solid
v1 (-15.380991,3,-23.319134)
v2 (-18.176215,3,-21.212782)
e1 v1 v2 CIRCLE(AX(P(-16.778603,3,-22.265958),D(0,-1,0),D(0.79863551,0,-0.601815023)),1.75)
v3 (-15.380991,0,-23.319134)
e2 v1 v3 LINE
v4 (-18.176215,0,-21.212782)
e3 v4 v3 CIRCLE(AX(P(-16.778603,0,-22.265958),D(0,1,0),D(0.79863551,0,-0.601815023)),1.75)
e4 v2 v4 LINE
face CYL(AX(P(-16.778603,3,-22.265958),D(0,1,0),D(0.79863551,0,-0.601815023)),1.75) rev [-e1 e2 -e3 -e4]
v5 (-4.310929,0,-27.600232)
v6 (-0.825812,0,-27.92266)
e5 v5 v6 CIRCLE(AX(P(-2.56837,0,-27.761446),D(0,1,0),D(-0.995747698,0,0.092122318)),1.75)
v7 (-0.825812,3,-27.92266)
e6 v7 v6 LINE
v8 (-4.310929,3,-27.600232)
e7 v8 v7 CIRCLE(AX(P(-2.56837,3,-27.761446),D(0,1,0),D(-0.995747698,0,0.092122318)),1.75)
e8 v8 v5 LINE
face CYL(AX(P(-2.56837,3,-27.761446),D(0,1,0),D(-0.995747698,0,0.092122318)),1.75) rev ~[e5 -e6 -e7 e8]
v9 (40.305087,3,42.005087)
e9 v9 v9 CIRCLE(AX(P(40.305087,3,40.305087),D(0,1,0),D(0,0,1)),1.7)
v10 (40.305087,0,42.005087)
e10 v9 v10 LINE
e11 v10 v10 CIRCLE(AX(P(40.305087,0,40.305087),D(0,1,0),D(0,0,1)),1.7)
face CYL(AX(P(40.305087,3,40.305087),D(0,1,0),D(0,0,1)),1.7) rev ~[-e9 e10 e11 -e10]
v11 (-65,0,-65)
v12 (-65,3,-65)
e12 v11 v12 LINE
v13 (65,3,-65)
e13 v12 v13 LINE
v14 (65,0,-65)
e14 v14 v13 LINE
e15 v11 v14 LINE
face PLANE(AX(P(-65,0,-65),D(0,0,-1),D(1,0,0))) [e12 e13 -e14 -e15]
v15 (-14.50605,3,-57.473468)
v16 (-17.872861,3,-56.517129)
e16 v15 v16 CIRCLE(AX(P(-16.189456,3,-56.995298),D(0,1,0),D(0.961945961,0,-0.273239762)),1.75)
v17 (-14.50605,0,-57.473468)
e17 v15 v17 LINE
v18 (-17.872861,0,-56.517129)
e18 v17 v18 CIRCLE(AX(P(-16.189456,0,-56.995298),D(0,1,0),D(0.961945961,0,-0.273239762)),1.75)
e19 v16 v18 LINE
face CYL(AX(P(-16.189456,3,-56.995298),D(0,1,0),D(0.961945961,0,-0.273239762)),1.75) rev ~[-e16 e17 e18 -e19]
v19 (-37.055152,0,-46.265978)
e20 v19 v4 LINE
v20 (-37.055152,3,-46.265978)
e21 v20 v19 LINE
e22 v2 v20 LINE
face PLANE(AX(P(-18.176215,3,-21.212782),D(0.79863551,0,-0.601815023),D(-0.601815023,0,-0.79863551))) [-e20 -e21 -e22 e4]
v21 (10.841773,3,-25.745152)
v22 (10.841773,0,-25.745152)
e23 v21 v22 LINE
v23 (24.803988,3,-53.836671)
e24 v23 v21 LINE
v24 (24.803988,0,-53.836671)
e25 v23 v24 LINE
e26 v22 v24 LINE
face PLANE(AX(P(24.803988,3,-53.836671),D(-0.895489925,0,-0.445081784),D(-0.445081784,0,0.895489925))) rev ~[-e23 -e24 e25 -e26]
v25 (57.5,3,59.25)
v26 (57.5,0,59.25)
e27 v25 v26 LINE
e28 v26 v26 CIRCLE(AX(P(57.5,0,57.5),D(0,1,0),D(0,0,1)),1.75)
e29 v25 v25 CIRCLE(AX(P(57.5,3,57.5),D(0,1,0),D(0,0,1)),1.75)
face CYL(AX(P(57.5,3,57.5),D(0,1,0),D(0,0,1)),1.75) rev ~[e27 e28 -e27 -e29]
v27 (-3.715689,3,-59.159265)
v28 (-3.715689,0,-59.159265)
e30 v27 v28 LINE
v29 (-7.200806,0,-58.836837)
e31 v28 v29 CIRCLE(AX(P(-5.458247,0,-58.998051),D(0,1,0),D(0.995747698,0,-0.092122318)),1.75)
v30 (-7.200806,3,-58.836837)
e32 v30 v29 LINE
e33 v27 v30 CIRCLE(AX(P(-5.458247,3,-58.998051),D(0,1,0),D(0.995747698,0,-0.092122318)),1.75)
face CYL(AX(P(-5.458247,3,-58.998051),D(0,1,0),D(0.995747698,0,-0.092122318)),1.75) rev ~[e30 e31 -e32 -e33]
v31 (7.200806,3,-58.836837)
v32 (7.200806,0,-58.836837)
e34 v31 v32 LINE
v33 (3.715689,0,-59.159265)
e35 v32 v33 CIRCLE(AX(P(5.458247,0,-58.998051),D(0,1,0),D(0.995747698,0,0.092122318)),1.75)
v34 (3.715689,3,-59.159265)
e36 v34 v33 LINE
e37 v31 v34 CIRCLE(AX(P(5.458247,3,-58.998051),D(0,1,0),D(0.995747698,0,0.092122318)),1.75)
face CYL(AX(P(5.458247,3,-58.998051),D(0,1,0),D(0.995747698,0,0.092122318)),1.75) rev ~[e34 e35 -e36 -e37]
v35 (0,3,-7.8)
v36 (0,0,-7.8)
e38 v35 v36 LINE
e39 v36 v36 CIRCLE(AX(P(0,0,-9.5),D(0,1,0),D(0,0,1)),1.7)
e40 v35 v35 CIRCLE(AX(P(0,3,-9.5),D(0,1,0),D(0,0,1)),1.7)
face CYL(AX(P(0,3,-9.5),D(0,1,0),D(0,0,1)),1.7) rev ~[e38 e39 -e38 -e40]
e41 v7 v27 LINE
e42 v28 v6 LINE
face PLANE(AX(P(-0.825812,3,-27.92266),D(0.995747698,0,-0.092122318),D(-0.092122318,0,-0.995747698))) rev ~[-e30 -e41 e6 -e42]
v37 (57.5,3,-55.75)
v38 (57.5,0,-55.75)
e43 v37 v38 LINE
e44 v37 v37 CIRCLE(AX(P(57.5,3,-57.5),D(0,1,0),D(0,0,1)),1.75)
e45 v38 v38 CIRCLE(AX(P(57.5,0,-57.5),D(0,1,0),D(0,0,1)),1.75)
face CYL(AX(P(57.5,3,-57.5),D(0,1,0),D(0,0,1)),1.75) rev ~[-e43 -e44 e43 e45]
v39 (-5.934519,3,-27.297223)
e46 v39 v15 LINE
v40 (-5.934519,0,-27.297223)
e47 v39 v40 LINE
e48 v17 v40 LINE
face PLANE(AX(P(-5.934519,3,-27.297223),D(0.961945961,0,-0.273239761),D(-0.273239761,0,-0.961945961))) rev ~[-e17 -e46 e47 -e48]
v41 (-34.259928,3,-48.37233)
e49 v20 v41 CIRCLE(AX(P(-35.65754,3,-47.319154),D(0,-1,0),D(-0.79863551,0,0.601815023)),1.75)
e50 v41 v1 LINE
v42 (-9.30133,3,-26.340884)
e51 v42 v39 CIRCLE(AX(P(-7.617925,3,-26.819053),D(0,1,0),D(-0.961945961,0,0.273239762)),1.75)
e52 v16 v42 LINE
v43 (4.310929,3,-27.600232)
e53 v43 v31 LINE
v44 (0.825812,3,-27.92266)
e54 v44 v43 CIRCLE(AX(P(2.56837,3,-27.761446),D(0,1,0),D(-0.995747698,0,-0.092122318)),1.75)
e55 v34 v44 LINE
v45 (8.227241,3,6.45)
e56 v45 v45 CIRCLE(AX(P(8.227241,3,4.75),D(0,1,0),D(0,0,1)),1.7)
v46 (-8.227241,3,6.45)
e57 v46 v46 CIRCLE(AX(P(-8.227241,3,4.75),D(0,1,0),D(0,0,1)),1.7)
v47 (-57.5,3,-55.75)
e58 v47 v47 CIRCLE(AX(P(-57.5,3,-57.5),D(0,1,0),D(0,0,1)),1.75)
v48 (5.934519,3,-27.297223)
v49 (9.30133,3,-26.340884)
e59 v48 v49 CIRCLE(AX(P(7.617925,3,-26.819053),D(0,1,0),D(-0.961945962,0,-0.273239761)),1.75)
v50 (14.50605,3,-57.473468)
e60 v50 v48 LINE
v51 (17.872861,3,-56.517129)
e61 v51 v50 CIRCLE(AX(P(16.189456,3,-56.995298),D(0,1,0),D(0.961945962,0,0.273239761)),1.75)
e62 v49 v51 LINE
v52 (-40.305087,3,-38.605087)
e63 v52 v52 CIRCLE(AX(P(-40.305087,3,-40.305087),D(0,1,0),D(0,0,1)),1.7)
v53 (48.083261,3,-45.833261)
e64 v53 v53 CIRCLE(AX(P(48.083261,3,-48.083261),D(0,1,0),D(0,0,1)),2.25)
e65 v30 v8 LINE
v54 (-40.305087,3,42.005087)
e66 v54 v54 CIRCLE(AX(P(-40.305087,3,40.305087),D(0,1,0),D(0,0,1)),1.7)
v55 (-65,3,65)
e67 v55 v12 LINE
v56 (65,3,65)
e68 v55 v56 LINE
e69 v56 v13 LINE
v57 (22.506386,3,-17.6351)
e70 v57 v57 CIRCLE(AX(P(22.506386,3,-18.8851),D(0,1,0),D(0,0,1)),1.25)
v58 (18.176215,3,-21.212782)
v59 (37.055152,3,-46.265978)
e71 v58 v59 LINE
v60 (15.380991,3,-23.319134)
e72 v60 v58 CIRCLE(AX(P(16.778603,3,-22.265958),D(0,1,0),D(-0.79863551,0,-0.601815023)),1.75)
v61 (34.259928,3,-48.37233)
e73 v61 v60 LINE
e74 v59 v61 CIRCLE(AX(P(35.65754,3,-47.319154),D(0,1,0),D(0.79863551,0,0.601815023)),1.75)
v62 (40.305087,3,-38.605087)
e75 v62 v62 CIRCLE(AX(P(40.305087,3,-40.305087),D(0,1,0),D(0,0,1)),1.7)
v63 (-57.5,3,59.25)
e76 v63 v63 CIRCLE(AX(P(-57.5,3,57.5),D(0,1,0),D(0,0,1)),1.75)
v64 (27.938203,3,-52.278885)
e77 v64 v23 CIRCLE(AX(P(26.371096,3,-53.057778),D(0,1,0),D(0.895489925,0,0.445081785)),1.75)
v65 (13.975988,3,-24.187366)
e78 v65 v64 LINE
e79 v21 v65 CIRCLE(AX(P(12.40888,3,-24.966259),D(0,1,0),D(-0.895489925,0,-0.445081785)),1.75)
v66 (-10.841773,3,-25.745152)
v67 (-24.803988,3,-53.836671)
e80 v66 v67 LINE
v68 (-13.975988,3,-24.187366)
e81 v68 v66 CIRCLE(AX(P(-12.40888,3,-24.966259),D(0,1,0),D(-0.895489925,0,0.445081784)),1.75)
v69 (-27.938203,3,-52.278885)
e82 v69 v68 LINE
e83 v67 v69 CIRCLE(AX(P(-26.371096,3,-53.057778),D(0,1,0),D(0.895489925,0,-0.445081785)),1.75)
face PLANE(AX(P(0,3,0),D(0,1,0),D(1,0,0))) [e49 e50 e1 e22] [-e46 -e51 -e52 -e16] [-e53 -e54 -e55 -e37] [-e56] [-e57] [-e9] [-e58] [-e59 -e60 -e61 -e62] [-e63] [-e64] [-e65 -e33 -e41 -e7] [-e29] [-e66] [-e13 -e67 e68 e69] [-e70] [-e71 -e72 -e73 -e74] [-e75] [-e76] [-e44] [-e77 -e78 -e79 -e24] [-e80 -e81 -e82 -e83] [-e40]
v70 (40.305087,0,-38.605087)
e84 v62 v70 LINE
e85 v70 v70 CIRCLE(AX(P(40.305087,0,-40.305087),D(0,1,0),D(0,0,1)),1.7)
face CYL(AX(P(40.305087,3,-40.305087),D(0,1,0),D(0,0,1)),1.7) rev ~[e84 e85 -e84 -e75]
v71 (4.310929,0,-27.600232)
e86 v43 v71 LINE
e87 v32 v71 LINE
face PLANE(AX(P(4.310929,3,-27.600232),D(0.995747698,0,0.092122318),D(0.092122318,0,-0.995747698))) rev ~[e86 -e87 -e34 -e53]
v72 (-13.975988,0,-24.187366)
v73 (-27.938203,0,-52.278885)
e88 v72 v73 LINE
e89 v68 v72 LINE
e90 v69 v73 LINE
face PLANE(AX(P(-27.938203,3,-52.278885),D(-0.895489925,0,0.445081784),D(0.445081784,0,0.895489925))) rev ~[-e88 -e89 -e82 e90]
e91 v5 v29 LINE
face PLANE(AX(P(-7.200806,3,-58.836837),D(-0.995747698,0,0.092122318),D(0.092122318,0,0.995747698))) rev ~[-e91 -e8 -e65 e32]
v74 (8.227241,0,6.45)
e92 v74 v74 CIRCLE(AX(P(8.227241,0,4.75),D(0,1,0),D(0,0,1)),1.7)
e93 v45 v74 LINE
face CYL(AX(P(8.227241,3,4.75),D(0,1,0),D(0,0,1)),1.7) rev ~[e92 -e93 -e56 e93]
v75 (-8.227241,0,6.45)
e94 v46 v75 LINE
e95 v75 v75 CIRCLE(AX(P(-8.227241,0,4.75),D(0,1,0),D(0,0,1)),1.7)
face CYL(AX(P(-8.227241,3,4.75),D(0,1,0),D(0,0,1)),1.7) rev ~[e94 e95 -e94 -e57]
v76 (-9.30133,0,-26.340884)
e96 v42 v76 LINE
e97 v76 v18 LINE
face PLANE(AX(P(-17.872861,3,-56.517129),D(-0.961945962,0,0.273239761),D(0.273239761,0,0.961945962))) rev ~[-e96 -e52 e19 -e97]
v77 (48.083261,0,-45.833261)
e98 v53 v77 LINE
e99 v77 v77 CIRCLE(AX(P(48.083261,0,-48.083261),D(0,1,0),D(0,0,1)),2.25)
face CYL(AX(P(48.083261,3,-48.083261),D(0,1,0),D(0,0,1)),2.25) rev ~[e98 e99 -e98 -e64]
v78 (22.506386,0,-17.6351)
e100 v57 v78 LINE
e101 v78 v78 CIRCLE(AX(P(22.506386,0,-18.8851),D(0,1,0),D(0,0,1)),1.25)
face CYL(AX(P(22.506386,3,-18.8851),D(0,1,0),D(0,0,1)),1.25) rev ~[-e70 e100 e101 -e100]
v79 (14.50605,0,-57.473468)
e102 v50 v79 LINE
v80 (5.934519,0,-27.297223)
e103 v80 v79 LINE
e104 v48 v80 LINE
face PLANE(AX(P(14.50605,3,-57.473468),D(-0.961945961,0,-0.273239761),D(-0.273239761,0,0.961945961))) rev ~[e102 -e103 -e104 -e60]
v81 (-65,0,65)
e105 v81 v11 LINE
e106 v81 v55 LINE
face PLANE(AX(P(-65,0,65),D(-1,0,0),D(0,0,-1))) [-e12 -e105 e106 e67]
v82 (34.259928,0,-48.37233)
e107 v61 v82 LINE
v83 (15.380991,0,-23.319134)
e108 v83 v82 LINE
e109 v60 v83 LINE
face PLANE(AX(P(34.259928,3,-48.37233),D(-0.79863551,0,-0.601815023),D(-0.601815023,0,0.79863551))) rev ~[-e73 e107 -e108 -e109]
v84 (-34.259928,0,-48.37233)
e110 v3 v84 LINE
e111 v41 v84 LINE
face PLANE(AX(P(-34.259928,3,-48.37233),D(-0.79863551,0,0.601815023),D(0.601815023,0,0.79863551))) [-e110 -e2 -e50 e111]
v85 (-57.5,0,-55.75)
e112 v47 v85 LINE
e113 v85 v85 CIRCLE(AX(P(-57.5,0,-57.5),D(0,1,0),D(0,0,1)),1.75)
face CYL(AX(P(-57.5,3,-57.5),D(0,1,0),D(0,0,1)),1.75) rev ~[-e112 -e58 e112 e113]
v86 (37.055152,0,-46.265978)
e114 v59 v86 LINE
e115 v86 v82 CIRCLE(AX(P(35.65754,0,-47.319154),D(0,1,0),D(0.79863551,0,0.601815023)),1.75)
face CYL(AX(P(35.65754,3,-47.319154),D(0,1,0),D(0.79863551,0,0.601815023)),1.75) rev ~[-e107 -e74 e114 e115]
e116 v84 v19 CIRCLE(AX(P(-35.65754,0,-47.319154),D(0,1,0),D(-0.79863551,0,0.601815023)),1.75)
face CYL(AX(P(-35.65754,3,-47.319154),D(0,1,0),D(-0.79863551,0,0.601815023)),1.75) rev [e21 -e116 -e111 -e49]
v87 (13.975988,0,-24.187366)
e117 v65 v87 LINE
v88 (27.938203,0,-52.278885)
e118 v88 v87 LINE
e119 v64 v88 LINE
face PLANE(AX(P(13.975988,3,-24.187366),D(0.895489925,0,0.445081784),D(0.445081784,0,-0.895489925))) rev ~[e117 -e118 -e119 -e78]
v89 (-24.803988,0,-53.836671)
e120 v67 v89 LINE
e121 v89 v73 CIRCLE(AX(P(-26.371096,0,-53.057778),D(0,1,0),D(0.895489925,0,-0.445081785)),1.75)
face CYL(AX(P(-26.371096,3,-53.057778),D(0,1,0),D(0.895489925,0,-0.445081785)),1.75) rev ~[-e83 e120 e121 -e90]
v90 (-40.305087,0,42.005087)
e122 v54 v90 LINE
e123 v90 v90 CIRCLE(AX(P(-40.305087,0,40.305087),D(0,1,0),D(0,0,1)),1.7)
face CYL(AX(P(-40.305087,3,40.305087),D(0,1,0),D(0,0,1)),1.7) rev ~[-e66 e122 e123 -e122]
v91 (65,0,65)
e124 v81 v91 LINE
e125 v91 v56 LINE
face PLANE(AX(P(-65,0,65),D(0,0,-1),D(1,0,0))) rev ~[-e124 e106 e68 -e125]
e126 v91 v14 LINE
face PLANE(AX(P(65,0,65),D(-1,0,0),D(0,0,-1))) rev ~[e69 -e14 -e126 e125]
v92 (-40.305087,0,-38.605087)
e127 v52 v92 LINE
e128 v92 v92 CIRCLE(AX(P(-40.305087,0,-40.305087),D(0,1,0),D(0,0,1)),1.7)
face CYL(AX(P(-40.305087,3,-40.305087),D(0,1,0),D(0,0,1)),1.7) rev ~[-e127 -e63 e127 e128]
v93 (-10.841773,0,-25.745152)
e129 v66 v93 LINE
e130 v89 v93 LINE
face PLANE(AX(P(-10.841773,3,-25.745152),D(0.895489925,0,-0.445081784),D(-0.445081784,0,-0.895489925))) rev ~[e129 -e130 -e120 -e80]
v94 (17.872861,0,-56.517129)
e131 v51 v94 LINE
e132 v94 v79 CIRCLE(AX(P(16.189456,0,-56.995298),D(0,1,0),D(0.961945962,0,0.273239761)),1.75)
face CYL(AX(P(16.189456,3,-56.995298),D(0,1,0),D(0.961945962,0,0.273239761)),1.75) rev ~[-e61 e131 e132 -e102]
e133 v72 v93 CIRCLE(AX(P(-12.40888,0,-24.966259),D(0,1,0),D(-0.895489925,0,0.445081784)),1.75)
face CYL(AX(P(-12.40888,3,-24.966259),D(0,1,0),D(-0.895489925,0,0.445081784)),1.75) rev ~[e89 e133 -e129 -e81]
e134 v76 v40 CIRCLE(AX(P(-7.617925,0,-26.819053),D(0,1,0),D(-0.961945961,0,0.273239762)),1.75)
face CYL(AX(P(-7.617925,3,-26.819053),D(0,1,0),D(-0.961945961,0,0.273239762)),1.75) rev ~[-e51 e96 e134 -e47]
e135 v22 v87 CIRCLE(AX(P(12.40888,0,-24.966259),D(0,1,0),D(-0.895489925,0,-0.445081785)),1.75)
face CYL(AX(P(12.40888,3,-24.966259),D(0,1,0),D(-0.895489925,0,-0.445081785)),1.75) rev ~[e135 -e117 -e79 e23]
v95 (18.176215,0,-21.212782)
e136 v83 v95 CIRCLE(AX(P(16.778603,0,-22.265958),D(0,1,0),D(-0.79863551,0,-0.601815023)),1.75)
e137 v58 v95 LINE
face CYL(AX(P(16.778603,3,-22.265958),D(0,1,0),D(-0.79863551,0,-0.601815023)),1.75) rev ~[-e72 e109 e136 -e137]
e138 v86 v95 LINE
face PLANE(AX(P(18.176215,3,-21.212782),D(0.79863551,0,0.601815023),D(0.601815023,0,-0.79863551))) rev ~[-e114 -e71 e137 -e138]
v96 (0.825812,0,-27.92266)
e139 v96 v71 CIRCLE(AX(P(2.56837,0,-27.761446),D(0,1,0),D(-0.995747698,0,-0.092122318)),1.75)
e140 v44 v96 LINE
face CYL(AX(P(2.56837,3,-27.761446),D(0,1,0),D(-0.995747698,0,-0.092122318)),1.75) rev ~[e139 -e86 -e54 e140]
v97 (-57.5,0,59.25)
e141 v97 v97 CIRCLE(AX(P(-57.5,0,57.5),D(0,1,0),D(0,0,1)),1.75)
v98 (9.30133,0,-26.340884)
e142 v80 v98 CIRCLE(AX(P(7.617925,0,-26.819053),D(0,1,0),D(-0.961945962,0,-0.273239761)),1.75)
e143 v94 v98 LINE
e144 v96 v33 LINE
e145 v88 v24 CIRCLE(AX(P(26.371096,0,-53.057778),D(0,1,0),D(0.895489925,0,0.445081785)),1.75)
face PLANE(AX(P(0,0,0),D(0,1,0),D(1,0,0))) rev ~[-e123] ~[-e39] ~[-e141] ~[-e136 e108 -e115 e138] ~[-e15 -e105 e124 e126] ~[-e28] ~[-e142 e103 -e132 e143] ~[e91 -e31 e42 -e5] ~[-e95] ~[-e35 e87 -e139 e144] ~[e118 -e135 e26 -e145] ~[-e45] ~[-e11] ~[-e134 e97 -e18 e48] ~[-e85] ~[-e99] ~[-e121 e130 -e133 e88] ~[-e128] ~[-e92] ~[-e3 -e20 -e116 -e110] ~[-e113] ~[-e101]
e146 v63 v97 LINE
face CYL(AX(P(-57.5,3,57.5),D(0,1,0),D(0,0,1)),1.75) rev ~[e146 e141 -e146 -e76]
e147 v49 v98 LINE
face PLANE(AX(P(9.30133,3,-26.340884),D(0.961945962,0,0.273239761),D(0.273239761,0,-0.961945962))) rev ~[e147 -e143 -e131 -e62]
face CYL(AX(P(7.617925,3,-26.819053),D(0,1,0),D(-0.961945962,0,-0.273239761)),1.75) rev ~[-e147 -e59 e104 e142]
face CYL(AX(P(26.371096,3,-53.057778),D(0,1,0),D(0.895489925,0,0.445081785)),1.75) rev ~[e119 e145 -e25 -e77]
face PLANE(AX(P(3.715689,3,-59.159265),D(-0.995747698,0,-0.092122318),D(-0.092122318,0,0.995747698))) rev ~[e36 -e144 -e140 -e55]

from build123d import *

# Parameters (mm, degrees)
SKETCH2_W                 = 130
SKETCH2_H                 = 130
BOSS_EXTRUDE1_DEPTH       = 3
CORNERPIECE_HOLES_REACH   = 93.973
SKETCH4_R                 = 1.75
CUT_EXTRUDE2_REACH        = 93.973
SKETCH6_R                 = 1.7
CUT_EXTRUDE3_REACH        = 93.973
SKETCH8_R                 = 1.7
PRIMARY_WIRE_HOLE_REACH   = 93.973
SKETCH9_R                 = 2.25
SECONDARY_WIRE_HOLE_REACH = 93.973
SKETCH10_R                = 1.25
CUT_EXTRUDE6_REACH        = 93.973


with BuildPart() as part:
    # Sketch2 → Boss-Extrude1 (new body)
    with BuildSketch(Plane(origin=(0, 0, 0), x_dir=(1, 0, 0), z_dir=(0, 1, 0))):
        Rectangle(SKETCH2_W, SKETCH2_H)
    extrude(amount=BOSS_EXTRUDE1_DEPTH)

    # Sketch4 → Cornerpiece holes (cut, up to next)
    with BuildSketch(Plane(origin=(0, 3, 0), x_dir=(1, 0, 0), z_dir=(0, 1, 0)), mode=Mode.PRIVATE) as cornerpiece_holes_sk1:
        with Locations(Location((-57.5, 57.5, 0), (0, 0, 270))):
            Circle(SKETCH4_R)
    cornerpiece_holes_tool1 = extrude(cornerpiece_holes_sk1.sketch, amount=-CORNERPIECE_HOLES_REACH, mode=Mode.PRIVATE) & part.part
    # Sketch4 → Cornerpiece holes (cut, up to next)
    with BuildSketch(Plane(origin=(0, 3, 0), x_dir=(1, 0, 0), z_dir=(0, 1, 0)), mode=Mode.PRIVATE) as cornerpiece_holes_sk2:
        with Locations(Location((57.5, 57.5, 0), (0, 0, 270))):
            Circle(SKETCH4_R)
    cornerpiece_holes_tool2 = extrude(cornerpiece_holes_sk2.sketch, amount=-CORNERPIECE_HOLES_REACH, mode=Mode.PRIVATE) & part.part
    # Sketch4 → Cornerpiece holes (cut, up to next)
    with BuildSketch(Plane(origin=(0, 3, 0), x_dir=(1, 0, 0), z_dir=(0, 1, 0)), mode=Mode.PRIVATE) as cornerpiece_holes_sk3:
        with Locations(Location((57.5, -57.5, 0), (0, 0, 270))):
            Circle(SKETCH4_R)
    cornerpiece_holes_tool3 = extrude(cornerpiece_holes_sk3.sketch, amount=-CORNERPIECE_HOLES_REACH, mode=Mode.PRIVATE) & part.part
    # Sketch4 → Cornerpiece holes (cut, up to next)
    with BuildSketch(Plane(origin=(0, 3, 0), x_dir=(1, 0, 0), z_dir=(0, 1, 0)), mode=Mode.PRIVATE) as cornerpiece_holes_sk4:
        with Locations(Location((-57.5, -57.5, 0), (0, 0, 270))):
            Circle(SKETCH4_R)
    cornerpiece_holes_tool4 = extrude(cornerpiece_holes_sk4.sketch, amount=-CORNERPIECE_HOLES_REACH, mode=Mode.PRIVATE) & part.part
    add(cornerpiece_holes_tool1.solids().sort_by_distance((-57.5, 3, -57.5))[0], mode=Mode.SUBTRACT)
    add(cornerpiece_holes_tool2.solids().sort_by_distance((57.5, 3, -57.5))[0], mode=Mode.SUBTRACT)
    add(cornerpiece_holes_tool3.solids().sort_by_distance((57.5, 3, 57.5))[0], mode=Mode.SUBTRACT)
    add(cornerpiece_holes_tool4.solids().sort_by_distance((-57.5, 3, 57.5))[0], mode=Mode.SUBTRACT)

    # Sketch6 → Cut-Extrude2 (cut, up to next)
    with BuildSketch(Plane(origin=(0, 3, 0), x_dir=(1, 0, 0), z_dir=(0, 1, 0)), mode=Mode.PRIVATE) as cut_extrude2_sk1:
        with Locations(Location((-40.305086528, 40.305086528, 0), (0, 0, 270))):
            Circle(SKETCH6_R)
    cut_extrude2_tool1 = extrude(cut_extrude2_sk1.sketch, amount=-CUT_EXTRUDE2_REACH, mode=Mode.PRIVATE) & part.part
    # Sketch6 → Cut-Extrude2 (cut, up to next)
    with BuildSketch(Plane(origin=(0, 3, 0), x_dir=(1, 0, 0), z_dir=(0, 1, 0)), mode=Mode.PRIVATE) as cut_extrude2_sk2:
        with Locations(Location((40.305086528, 40.305086528, 0), (0, 0, 270))):
            Circle(SKETCH6_R)
    cut_extrude2_tool2 = extrude(cut_extrude2_sk2.sketch, amount=-CUT_EXTRUDE2_REACH, mode=Mode.PRIVATE) & part.part
    # Sketch6 → Cut-Extrude2 (cut, up to next)
    with BuildSketch(Plane(origin=(0, 3, 0), x_dir=(1, 0, 0), z_dir=(0, 1, 0)), mode=Mode.PRIVATE) as cut_extrude2_sk3:
        with Locations(Location((40.305086528, -40.305086528, 0), (0, 0, 270))):
            Circle(SKETCH6_R)
    cut_extrude2_tool3 = extrude(cut_extrude2_sk3.sketch, amount=-CUT_EXTRUDE2_REACH, mode=Mode.PRIVATE) & part.part
    # Sketch6 → Cut-Extrude2 (cut, up to next)
    with BuildSketch(Plane(origin=(0, 3, 0), x_dir=(1, 0, 0), z_dir=(0, 1, 0)), mode=Mode.PRIVATE) as cut_extrude2_sk4:
        with Locations(Location((-40.305086528, -40.305086528, 0), (0, 0, 270))):
            Circle(SKETCH6_R)
    cut_extrude2_tool4 = extrude(cut_extrude2_sk4.sketch, amount=-CUT_EXTRUDE2_REACH, mode=Mode.PRIVATE) & part.part
    add(cut_extrude2_tool1.solids().sort_by_distance((-40.305087, 3, -40.305087))[0], mode=Mode.SUBTRACT)
    add(cut_extrude2_tool2.solids().sort_by_distance((40.305087, 3, -40.305087))[0], mode=Mode.SUBTRACT)
    add(cut_extrude2_tool3.solids().sort_by_distance((40.305087, 3, 40.305087))[0], mode=Mode.SUBTRACT)
    add(cut_extrude2_tool4.solids().sort_by_distance((-40.305087, 3, 40.305087))[0], mode=Mode.SUBTRACT)

    # Sketch8 → Cut-Extrude3 (cut, up to next)
    with BuildSketch(Plane(origin=(0, 3, 0), x_dir=(1, 0, 0), z_dir=(0, 1, 0)), mode=Mode.PRIVATE) as cut_extrude3_sk1:
        with Locations(Location((0, 9.5, 0), (0, 0, 270))):
            Circle(SKETCH8_R)
    cut_extrude3_tool1 = extrude(cut_extrude3_sk1.sketch, amount=-CUT_EXTRUDE3_REACH, mode=Mode.PRIVATE) & part.part
    # Sketch8 → Cut-Extrude3 (cut, up to next)
    with BuildSketch(Plane(origin=(0, 3, 0), x_dir=(1, 0, 0), z_dir=(0, 1, 0)), mode=Mode.PRIVATE) as cut_extrude3_sk2:
        with Locations(Location((8.227241336, -4.75, 0), (0, 0, 270))):
            Circle(SKETCH8_R)
    cut_extrude3_tool2 = extrude(cut_extrude3_sk2.sketch, amount=-CUT_EXTRUDE3_REACH, mode=Mode.PRIVATE) & part.part
    # Sketch8 → Cut-Extrude3 (cut, up to next)
    with BuildSketch(Plane(origin=(0, 3, 0), x_dir=(1, 0, 0), z_dir=(0, 1, 0)), mode=Mode.PRIVATE) as cut_extrude3_sk3:
        with Locations(Location((-8.227241336, -4.75, 0), (0, 0, 270))):
            Circle(SKETCH8_R)
    cut_extrude3_tool3 = extrude(cut_extrude3_sk3.sketch, amount=-CUT_EXTRUDE3_REACH, mode=Mode.PRIVATE) & part.part
    add(cut_extrude3_tool1.solids().sort_by_distance((0, 3, -9.5))[0], mode=Mode.SUBTRACT)
    add(cut_extrude3_tool2.solids().sort_by_distance((8.227241, 3, 4.75))[0], mode=Mode.SUBTRACT)
    add(cut_extrude3_tool3.solids().sort_by_distance((-8.227241, 3, 4.75))[0], mode=Mode.SUBTRACT)

    # Sketch9 → Primary wire hole (cut, up to next)
    with BuildSketch(Plane(origin=(0, 3, 0), x_dir=(1, 0, 0), z_dir=(0, 1, 0)), mode=Mode.PRIVATE) as primary_wire_hole_sk1:
        with Locations(Location((48.083261121, 48.083261121, 0), (0, 0, 270))):
            Circle(SKETCH9_R)
    primary_wire_hole_tool1 = extrude(primary_wire_hole_sk1.sketch, amount=-PRIMARY_WIRE_HOLE_REACH, mode=Mode.PRIVATE) & part.part
    add(primary_wire_hole_tool1.solids().sort_by_distance((48.083261, 3, -48.083261))[0], mode=Mode.SUBTRACT)

    # Sketch10 → Secondary wire hole (cut, up to next)
    with BuildSketch(Plane(origin=(0, 3, 0), x_dir=(1, 0, 0), z_dir=(0, 1, 0)), mode=Mode.PRIVATE) as secondary_wire_hole_sk1:
        with Locations(Location((22.506385739, 18.885099973, 0), (0, 0, 270))):
            Circle(SKETCH10_R)
    secondary_wire_hole_tool1 = extrude(secondary_wire_hole_sk1.sketch, amount=-SECONDARY_WIRE_HOLE_REACH, mode=Mode.PRIVATE) & part.part
    add(secondary_wire_hole_tool1.solids().sort_by_distance((22.506386, 3, -18.8851))[0], mode=Mode.SUBTRACT)

    # Sketch11 → Cut-Extrude6 (cut, up to next)
    with BuildSketch(Plane(origin=(0, 3, 0), x_dir=(1, 0, 0), z_dir=(0, 1, 0)), mode=Mode.PRIVATE) as cut_extrude6_sk1:
        with BuildLine():
            Line((-34.259927979, 48.372330261), (-15.380990703, 23.319134311))
            ThreePointArc((-15.380990703, 23.319134311), (-15.725426555, 20.868345878), (-18.176214988, 21.21278173))
            Line((-18.176214988, 21.21278173), (-37.055152264, 46.26597768))
            ThreePointArc((-37.055152264, 46.26597768), (-36.710716412, 48.716766113), (-34.259927979, 48.372330261))
        make_face()
    cut_extrude6_tool1 = extrude(cut_extrude6_sk1.sketch, amount=-CUT_EXTRUDE6_REACH, mode=Mode.PRIVATE) & part.part
    # Sketch11 → Cut-Extrude6 (cut, up to next)
    with BuildSketch(Plane(origin=(0, 3, 0), x_dir=(1, 0, 0), z_dir=(0, 1, 0)), mode=Mode.PRIVATE) as cut_extrude6_sk2:
        with BuildLine():
            Line((-27.938203096, 52.278884913), (-13.975987518, 24.187365977))
            ThreePointArc((-13.975987518, 24.187365977), (-11.629987027, 23.399151731), (-10.841772782, 25.745152222))
            Line((-10.841772782, 25.745152222), (-24.80398836, 53.836671159))
            ThreePointArc((-24.80398836, 53.836671159), (-27.149988851, 54.624885404), (-27.938203096, 52.278884913))
        make_face()
    cut_extrude6_tool2 = extrude(cut_extrude6_sk2.sketch, amount=-CUT_EXTRUDE6_REACH, mode=Mode.PRIVATE) & part.part
    # Sketch11 → Cut-Extrude6 (cut, up to next)
    with BuildSketch(Plane(origin=(0, 3, 0), x_dir=(1, 0, 0), z_dir=(0, 1, 0)), mode=Mode.PRIVATE) as cut_extrude6_sk3:
        with BuildLine():
            Line((-17.87286129, 56.517128637), (-9.301329978, 26.340883824))
            ThreePointArc((-9.301329978, 26.340883824), (-7.139754963, 25.135647974), (-5.934519112, 27.297222989))
            Line((-5.934519112, 27.297222989), (-14.506050425, 57.473467801))
            ThreePointArc((-14.506050425, 57.473467801), (-16.667625439, 58.678703651), (-17.87286129, 56.517128637))
        make_face()
    cut_extrude6_tool3 = extrude(cut_extrude6_sk3.sketch, amount=-CUT_EXTRUDE6_REACH, mode=Mode.PRIVATE) & part.part
    # Sketch11 → Cut-Extrude6 (cut, up to next)
    with BuildSketch(Plane(origin=(0, 3, 0), x_dir=(1, 0, 0), z_dir=(0, 1, 0)), mode=Mode.PRIVATE) as cut_extrude6_sk4:
        with BuildLine():
            Line((-7.200805802, 58.836837065), (-4.310928692, 27.600231771))
            ThreePointArc((-4.310928692, 27.600231771), (-2.407156164, 26.018887355), (-0.825811748, 27.922659883))
            Line((-0.825811748, 27.922659883), (-3.715688858, 59.159265177))
            ThreePointArc((-3.715688858, 59.159265177), (-5.619461386, 60.740609593), (-7.200805802, 58.836837065))
        make_face()
    cut_extrude6_tool4 = extrude(cut_extrude6_sk4.sketch, amount=-CUT_EXTRUDE6_REACH, mode=Mode.PRIVATE) & part.part
    # Sketch11 → Cut-Extrude6 (cut, up to next)
    with BuildSketch(Plane(origin=(0, 3, 0), x_dir=(1, 0, 0), z_dir=(0, 1, 0)), mode=Mode.PRIVATE) as cut_extrude6_sk5:
        with BuildLine():
            Line((3.715688858, 59.159265177), (0.825811748, 27.922659883))
            ThreePointArc((0.825811748, 27.922659883), (2.407156164, 26.018887355), (4.310928692, 27.600231771))
            Line((4.310928692, 27.600231771), (7.200805802, 58.836837065))
            ThreePointArc((7.200805802, 58.836837065), (5.619461386, 60.740609593), (3.715688858, 59.159265177))
        make_face()
    cut_extrude6_tool5 = extrude(cut_extrude6_sk5.sketch, amount=-CUT_EXTRUDE6_REACH, mode=Mode.PRIVATE) & part.part
    # Sketch11 → Cut-Extrude6 (cut, up to next)
    with BuildSketch(Plane(origin=(0, 3, 0), x_dir=(1, 0, 0), z_dir=(0, 1, 0)), mode=Mode.PRIVATE) as cut_extrude6_sk6:
        with BuildLine():
            Line((14.506050425, 57.473467801), (5.934519112, 27.297222989))
            ThreePointArc((5.934519112, 27.297222989), (7.139754963, 25.135647974), (9.301329978, 26.340883824))
            Line((9.301329978, 26.340883824), (17.87286129, 56.517128637))
            ThreePointArc((17.87286129, 56.517128637), (16.667625439, 58.678703651), (14.506050425, 57.473467801))
        make_face()
    cut_extrude6_tool6 = extrude(cut_extrude6_sk6.sketch, amount=-CUT_EXTRUDE6_REACH, mode=Mode.PRIVATE) & part.part
    # Sketch11 → Cut-Extrude6 (cut, up to next)
    with BuildSketch(Plane(origin=(0, 3, 0), x_dir=(1, 0, 0), z_dir=(0, 1, 0)), mode=Mode.PRIVATE) as cut_extrude6_sk7:
        with BuildLine():
            Line((24.80398836, 53.836671159), (10.841772782, 25.745152222))
            ThreePointArc((10.841772782, 25.745152222), (11.629987027, 23.399151731), (13.975987518, 24.187365977))
            Line((13.975987518, 24.187365977), (27.938203096, 52.278884913))
            ThreePointArc((27.938203096, 52.278884913), (27.149988851, 54.624885404), (24.80398836, 53.836671159))
        make_face()
    cut_extrude6_tool7 = extrude(cut_extrude6_sk7.sketch, amount=-CUT_EXTRUDE6_REACH, mode=Mode.PRIVATE) & part.part
    # Sketch11 → Cut-Extrude6 (cut, up to next)
    with BuildSketch(Plane(origin=(0, 3, 0), x_dir=(1, 0, 0), z_dir=(0, 1, 0)), mode=Mode.PRIVATE) as cut_extrude6_sk8:
        with BuildLine():
            Line((34.259927979, 48.372330261), (15.380990703, 23.319134311))
            ThreePointArc((15.380990703, 23.319134311), (15.725426555, 20.868345878), (18.176214988, 21.21278173))
            Line((18.176214988, 21.21278173), (37.055152264, 46.26597768))
            ThreePointArc((37.055152264, 46.26597768), (36.710716412, 48.716766113), (34.259927979, 48.372330261))
        make_face()
    cut_extrude6_tool8 = extrude(cut_extrude6_sk8.sketch, amount=-CUT_EXTRUDE6_REACH, mode=Mode.PRIVATE) & part.part
    add(cut_extrude6_tool1.solids().sort_by_distance((-26.218071, 3, -34.792556))[0], mode=Mode.SUBTRACT)
    add(cut_extrude6_tool2.solids().sort_by_distance((-19.389988, 3, -39.012019))[0], mode=Mode.SUBTRACT)
    add(cut_extrude6_tool3.solids().sort_by_distance((-11.90369, 3, -41.907176))[0], mode=Mode.SUBTRACT)
    add(cut_extrude6_tool4.solids().sort_by_distance((-4.013309, 3, -43.379748))[0], mode=Mode.SUBTRACT)
    add(cut_extrude6_tool5.solids().sort_by_distance((4.013309, 3, -43.379748))[0], mode=Mode.SUBTRACT)
    add(cut_extrude6_tool6.solids().sort_by_distance((11.90369, 3, -41.907176))[0], mode=Mode.SUBTRACT)
    add(cut_extrude6_tool7.solids().sort_by_distance((19.389988, 3, -39.012019))[0], mode=Mode.SUBTRACT)
    add(cut_extrude6_tool8.solids().sort_by_distance((26.218071, 3, -34.792556))[0], mode=Mode.SUBTRACT)


solid = part.part
